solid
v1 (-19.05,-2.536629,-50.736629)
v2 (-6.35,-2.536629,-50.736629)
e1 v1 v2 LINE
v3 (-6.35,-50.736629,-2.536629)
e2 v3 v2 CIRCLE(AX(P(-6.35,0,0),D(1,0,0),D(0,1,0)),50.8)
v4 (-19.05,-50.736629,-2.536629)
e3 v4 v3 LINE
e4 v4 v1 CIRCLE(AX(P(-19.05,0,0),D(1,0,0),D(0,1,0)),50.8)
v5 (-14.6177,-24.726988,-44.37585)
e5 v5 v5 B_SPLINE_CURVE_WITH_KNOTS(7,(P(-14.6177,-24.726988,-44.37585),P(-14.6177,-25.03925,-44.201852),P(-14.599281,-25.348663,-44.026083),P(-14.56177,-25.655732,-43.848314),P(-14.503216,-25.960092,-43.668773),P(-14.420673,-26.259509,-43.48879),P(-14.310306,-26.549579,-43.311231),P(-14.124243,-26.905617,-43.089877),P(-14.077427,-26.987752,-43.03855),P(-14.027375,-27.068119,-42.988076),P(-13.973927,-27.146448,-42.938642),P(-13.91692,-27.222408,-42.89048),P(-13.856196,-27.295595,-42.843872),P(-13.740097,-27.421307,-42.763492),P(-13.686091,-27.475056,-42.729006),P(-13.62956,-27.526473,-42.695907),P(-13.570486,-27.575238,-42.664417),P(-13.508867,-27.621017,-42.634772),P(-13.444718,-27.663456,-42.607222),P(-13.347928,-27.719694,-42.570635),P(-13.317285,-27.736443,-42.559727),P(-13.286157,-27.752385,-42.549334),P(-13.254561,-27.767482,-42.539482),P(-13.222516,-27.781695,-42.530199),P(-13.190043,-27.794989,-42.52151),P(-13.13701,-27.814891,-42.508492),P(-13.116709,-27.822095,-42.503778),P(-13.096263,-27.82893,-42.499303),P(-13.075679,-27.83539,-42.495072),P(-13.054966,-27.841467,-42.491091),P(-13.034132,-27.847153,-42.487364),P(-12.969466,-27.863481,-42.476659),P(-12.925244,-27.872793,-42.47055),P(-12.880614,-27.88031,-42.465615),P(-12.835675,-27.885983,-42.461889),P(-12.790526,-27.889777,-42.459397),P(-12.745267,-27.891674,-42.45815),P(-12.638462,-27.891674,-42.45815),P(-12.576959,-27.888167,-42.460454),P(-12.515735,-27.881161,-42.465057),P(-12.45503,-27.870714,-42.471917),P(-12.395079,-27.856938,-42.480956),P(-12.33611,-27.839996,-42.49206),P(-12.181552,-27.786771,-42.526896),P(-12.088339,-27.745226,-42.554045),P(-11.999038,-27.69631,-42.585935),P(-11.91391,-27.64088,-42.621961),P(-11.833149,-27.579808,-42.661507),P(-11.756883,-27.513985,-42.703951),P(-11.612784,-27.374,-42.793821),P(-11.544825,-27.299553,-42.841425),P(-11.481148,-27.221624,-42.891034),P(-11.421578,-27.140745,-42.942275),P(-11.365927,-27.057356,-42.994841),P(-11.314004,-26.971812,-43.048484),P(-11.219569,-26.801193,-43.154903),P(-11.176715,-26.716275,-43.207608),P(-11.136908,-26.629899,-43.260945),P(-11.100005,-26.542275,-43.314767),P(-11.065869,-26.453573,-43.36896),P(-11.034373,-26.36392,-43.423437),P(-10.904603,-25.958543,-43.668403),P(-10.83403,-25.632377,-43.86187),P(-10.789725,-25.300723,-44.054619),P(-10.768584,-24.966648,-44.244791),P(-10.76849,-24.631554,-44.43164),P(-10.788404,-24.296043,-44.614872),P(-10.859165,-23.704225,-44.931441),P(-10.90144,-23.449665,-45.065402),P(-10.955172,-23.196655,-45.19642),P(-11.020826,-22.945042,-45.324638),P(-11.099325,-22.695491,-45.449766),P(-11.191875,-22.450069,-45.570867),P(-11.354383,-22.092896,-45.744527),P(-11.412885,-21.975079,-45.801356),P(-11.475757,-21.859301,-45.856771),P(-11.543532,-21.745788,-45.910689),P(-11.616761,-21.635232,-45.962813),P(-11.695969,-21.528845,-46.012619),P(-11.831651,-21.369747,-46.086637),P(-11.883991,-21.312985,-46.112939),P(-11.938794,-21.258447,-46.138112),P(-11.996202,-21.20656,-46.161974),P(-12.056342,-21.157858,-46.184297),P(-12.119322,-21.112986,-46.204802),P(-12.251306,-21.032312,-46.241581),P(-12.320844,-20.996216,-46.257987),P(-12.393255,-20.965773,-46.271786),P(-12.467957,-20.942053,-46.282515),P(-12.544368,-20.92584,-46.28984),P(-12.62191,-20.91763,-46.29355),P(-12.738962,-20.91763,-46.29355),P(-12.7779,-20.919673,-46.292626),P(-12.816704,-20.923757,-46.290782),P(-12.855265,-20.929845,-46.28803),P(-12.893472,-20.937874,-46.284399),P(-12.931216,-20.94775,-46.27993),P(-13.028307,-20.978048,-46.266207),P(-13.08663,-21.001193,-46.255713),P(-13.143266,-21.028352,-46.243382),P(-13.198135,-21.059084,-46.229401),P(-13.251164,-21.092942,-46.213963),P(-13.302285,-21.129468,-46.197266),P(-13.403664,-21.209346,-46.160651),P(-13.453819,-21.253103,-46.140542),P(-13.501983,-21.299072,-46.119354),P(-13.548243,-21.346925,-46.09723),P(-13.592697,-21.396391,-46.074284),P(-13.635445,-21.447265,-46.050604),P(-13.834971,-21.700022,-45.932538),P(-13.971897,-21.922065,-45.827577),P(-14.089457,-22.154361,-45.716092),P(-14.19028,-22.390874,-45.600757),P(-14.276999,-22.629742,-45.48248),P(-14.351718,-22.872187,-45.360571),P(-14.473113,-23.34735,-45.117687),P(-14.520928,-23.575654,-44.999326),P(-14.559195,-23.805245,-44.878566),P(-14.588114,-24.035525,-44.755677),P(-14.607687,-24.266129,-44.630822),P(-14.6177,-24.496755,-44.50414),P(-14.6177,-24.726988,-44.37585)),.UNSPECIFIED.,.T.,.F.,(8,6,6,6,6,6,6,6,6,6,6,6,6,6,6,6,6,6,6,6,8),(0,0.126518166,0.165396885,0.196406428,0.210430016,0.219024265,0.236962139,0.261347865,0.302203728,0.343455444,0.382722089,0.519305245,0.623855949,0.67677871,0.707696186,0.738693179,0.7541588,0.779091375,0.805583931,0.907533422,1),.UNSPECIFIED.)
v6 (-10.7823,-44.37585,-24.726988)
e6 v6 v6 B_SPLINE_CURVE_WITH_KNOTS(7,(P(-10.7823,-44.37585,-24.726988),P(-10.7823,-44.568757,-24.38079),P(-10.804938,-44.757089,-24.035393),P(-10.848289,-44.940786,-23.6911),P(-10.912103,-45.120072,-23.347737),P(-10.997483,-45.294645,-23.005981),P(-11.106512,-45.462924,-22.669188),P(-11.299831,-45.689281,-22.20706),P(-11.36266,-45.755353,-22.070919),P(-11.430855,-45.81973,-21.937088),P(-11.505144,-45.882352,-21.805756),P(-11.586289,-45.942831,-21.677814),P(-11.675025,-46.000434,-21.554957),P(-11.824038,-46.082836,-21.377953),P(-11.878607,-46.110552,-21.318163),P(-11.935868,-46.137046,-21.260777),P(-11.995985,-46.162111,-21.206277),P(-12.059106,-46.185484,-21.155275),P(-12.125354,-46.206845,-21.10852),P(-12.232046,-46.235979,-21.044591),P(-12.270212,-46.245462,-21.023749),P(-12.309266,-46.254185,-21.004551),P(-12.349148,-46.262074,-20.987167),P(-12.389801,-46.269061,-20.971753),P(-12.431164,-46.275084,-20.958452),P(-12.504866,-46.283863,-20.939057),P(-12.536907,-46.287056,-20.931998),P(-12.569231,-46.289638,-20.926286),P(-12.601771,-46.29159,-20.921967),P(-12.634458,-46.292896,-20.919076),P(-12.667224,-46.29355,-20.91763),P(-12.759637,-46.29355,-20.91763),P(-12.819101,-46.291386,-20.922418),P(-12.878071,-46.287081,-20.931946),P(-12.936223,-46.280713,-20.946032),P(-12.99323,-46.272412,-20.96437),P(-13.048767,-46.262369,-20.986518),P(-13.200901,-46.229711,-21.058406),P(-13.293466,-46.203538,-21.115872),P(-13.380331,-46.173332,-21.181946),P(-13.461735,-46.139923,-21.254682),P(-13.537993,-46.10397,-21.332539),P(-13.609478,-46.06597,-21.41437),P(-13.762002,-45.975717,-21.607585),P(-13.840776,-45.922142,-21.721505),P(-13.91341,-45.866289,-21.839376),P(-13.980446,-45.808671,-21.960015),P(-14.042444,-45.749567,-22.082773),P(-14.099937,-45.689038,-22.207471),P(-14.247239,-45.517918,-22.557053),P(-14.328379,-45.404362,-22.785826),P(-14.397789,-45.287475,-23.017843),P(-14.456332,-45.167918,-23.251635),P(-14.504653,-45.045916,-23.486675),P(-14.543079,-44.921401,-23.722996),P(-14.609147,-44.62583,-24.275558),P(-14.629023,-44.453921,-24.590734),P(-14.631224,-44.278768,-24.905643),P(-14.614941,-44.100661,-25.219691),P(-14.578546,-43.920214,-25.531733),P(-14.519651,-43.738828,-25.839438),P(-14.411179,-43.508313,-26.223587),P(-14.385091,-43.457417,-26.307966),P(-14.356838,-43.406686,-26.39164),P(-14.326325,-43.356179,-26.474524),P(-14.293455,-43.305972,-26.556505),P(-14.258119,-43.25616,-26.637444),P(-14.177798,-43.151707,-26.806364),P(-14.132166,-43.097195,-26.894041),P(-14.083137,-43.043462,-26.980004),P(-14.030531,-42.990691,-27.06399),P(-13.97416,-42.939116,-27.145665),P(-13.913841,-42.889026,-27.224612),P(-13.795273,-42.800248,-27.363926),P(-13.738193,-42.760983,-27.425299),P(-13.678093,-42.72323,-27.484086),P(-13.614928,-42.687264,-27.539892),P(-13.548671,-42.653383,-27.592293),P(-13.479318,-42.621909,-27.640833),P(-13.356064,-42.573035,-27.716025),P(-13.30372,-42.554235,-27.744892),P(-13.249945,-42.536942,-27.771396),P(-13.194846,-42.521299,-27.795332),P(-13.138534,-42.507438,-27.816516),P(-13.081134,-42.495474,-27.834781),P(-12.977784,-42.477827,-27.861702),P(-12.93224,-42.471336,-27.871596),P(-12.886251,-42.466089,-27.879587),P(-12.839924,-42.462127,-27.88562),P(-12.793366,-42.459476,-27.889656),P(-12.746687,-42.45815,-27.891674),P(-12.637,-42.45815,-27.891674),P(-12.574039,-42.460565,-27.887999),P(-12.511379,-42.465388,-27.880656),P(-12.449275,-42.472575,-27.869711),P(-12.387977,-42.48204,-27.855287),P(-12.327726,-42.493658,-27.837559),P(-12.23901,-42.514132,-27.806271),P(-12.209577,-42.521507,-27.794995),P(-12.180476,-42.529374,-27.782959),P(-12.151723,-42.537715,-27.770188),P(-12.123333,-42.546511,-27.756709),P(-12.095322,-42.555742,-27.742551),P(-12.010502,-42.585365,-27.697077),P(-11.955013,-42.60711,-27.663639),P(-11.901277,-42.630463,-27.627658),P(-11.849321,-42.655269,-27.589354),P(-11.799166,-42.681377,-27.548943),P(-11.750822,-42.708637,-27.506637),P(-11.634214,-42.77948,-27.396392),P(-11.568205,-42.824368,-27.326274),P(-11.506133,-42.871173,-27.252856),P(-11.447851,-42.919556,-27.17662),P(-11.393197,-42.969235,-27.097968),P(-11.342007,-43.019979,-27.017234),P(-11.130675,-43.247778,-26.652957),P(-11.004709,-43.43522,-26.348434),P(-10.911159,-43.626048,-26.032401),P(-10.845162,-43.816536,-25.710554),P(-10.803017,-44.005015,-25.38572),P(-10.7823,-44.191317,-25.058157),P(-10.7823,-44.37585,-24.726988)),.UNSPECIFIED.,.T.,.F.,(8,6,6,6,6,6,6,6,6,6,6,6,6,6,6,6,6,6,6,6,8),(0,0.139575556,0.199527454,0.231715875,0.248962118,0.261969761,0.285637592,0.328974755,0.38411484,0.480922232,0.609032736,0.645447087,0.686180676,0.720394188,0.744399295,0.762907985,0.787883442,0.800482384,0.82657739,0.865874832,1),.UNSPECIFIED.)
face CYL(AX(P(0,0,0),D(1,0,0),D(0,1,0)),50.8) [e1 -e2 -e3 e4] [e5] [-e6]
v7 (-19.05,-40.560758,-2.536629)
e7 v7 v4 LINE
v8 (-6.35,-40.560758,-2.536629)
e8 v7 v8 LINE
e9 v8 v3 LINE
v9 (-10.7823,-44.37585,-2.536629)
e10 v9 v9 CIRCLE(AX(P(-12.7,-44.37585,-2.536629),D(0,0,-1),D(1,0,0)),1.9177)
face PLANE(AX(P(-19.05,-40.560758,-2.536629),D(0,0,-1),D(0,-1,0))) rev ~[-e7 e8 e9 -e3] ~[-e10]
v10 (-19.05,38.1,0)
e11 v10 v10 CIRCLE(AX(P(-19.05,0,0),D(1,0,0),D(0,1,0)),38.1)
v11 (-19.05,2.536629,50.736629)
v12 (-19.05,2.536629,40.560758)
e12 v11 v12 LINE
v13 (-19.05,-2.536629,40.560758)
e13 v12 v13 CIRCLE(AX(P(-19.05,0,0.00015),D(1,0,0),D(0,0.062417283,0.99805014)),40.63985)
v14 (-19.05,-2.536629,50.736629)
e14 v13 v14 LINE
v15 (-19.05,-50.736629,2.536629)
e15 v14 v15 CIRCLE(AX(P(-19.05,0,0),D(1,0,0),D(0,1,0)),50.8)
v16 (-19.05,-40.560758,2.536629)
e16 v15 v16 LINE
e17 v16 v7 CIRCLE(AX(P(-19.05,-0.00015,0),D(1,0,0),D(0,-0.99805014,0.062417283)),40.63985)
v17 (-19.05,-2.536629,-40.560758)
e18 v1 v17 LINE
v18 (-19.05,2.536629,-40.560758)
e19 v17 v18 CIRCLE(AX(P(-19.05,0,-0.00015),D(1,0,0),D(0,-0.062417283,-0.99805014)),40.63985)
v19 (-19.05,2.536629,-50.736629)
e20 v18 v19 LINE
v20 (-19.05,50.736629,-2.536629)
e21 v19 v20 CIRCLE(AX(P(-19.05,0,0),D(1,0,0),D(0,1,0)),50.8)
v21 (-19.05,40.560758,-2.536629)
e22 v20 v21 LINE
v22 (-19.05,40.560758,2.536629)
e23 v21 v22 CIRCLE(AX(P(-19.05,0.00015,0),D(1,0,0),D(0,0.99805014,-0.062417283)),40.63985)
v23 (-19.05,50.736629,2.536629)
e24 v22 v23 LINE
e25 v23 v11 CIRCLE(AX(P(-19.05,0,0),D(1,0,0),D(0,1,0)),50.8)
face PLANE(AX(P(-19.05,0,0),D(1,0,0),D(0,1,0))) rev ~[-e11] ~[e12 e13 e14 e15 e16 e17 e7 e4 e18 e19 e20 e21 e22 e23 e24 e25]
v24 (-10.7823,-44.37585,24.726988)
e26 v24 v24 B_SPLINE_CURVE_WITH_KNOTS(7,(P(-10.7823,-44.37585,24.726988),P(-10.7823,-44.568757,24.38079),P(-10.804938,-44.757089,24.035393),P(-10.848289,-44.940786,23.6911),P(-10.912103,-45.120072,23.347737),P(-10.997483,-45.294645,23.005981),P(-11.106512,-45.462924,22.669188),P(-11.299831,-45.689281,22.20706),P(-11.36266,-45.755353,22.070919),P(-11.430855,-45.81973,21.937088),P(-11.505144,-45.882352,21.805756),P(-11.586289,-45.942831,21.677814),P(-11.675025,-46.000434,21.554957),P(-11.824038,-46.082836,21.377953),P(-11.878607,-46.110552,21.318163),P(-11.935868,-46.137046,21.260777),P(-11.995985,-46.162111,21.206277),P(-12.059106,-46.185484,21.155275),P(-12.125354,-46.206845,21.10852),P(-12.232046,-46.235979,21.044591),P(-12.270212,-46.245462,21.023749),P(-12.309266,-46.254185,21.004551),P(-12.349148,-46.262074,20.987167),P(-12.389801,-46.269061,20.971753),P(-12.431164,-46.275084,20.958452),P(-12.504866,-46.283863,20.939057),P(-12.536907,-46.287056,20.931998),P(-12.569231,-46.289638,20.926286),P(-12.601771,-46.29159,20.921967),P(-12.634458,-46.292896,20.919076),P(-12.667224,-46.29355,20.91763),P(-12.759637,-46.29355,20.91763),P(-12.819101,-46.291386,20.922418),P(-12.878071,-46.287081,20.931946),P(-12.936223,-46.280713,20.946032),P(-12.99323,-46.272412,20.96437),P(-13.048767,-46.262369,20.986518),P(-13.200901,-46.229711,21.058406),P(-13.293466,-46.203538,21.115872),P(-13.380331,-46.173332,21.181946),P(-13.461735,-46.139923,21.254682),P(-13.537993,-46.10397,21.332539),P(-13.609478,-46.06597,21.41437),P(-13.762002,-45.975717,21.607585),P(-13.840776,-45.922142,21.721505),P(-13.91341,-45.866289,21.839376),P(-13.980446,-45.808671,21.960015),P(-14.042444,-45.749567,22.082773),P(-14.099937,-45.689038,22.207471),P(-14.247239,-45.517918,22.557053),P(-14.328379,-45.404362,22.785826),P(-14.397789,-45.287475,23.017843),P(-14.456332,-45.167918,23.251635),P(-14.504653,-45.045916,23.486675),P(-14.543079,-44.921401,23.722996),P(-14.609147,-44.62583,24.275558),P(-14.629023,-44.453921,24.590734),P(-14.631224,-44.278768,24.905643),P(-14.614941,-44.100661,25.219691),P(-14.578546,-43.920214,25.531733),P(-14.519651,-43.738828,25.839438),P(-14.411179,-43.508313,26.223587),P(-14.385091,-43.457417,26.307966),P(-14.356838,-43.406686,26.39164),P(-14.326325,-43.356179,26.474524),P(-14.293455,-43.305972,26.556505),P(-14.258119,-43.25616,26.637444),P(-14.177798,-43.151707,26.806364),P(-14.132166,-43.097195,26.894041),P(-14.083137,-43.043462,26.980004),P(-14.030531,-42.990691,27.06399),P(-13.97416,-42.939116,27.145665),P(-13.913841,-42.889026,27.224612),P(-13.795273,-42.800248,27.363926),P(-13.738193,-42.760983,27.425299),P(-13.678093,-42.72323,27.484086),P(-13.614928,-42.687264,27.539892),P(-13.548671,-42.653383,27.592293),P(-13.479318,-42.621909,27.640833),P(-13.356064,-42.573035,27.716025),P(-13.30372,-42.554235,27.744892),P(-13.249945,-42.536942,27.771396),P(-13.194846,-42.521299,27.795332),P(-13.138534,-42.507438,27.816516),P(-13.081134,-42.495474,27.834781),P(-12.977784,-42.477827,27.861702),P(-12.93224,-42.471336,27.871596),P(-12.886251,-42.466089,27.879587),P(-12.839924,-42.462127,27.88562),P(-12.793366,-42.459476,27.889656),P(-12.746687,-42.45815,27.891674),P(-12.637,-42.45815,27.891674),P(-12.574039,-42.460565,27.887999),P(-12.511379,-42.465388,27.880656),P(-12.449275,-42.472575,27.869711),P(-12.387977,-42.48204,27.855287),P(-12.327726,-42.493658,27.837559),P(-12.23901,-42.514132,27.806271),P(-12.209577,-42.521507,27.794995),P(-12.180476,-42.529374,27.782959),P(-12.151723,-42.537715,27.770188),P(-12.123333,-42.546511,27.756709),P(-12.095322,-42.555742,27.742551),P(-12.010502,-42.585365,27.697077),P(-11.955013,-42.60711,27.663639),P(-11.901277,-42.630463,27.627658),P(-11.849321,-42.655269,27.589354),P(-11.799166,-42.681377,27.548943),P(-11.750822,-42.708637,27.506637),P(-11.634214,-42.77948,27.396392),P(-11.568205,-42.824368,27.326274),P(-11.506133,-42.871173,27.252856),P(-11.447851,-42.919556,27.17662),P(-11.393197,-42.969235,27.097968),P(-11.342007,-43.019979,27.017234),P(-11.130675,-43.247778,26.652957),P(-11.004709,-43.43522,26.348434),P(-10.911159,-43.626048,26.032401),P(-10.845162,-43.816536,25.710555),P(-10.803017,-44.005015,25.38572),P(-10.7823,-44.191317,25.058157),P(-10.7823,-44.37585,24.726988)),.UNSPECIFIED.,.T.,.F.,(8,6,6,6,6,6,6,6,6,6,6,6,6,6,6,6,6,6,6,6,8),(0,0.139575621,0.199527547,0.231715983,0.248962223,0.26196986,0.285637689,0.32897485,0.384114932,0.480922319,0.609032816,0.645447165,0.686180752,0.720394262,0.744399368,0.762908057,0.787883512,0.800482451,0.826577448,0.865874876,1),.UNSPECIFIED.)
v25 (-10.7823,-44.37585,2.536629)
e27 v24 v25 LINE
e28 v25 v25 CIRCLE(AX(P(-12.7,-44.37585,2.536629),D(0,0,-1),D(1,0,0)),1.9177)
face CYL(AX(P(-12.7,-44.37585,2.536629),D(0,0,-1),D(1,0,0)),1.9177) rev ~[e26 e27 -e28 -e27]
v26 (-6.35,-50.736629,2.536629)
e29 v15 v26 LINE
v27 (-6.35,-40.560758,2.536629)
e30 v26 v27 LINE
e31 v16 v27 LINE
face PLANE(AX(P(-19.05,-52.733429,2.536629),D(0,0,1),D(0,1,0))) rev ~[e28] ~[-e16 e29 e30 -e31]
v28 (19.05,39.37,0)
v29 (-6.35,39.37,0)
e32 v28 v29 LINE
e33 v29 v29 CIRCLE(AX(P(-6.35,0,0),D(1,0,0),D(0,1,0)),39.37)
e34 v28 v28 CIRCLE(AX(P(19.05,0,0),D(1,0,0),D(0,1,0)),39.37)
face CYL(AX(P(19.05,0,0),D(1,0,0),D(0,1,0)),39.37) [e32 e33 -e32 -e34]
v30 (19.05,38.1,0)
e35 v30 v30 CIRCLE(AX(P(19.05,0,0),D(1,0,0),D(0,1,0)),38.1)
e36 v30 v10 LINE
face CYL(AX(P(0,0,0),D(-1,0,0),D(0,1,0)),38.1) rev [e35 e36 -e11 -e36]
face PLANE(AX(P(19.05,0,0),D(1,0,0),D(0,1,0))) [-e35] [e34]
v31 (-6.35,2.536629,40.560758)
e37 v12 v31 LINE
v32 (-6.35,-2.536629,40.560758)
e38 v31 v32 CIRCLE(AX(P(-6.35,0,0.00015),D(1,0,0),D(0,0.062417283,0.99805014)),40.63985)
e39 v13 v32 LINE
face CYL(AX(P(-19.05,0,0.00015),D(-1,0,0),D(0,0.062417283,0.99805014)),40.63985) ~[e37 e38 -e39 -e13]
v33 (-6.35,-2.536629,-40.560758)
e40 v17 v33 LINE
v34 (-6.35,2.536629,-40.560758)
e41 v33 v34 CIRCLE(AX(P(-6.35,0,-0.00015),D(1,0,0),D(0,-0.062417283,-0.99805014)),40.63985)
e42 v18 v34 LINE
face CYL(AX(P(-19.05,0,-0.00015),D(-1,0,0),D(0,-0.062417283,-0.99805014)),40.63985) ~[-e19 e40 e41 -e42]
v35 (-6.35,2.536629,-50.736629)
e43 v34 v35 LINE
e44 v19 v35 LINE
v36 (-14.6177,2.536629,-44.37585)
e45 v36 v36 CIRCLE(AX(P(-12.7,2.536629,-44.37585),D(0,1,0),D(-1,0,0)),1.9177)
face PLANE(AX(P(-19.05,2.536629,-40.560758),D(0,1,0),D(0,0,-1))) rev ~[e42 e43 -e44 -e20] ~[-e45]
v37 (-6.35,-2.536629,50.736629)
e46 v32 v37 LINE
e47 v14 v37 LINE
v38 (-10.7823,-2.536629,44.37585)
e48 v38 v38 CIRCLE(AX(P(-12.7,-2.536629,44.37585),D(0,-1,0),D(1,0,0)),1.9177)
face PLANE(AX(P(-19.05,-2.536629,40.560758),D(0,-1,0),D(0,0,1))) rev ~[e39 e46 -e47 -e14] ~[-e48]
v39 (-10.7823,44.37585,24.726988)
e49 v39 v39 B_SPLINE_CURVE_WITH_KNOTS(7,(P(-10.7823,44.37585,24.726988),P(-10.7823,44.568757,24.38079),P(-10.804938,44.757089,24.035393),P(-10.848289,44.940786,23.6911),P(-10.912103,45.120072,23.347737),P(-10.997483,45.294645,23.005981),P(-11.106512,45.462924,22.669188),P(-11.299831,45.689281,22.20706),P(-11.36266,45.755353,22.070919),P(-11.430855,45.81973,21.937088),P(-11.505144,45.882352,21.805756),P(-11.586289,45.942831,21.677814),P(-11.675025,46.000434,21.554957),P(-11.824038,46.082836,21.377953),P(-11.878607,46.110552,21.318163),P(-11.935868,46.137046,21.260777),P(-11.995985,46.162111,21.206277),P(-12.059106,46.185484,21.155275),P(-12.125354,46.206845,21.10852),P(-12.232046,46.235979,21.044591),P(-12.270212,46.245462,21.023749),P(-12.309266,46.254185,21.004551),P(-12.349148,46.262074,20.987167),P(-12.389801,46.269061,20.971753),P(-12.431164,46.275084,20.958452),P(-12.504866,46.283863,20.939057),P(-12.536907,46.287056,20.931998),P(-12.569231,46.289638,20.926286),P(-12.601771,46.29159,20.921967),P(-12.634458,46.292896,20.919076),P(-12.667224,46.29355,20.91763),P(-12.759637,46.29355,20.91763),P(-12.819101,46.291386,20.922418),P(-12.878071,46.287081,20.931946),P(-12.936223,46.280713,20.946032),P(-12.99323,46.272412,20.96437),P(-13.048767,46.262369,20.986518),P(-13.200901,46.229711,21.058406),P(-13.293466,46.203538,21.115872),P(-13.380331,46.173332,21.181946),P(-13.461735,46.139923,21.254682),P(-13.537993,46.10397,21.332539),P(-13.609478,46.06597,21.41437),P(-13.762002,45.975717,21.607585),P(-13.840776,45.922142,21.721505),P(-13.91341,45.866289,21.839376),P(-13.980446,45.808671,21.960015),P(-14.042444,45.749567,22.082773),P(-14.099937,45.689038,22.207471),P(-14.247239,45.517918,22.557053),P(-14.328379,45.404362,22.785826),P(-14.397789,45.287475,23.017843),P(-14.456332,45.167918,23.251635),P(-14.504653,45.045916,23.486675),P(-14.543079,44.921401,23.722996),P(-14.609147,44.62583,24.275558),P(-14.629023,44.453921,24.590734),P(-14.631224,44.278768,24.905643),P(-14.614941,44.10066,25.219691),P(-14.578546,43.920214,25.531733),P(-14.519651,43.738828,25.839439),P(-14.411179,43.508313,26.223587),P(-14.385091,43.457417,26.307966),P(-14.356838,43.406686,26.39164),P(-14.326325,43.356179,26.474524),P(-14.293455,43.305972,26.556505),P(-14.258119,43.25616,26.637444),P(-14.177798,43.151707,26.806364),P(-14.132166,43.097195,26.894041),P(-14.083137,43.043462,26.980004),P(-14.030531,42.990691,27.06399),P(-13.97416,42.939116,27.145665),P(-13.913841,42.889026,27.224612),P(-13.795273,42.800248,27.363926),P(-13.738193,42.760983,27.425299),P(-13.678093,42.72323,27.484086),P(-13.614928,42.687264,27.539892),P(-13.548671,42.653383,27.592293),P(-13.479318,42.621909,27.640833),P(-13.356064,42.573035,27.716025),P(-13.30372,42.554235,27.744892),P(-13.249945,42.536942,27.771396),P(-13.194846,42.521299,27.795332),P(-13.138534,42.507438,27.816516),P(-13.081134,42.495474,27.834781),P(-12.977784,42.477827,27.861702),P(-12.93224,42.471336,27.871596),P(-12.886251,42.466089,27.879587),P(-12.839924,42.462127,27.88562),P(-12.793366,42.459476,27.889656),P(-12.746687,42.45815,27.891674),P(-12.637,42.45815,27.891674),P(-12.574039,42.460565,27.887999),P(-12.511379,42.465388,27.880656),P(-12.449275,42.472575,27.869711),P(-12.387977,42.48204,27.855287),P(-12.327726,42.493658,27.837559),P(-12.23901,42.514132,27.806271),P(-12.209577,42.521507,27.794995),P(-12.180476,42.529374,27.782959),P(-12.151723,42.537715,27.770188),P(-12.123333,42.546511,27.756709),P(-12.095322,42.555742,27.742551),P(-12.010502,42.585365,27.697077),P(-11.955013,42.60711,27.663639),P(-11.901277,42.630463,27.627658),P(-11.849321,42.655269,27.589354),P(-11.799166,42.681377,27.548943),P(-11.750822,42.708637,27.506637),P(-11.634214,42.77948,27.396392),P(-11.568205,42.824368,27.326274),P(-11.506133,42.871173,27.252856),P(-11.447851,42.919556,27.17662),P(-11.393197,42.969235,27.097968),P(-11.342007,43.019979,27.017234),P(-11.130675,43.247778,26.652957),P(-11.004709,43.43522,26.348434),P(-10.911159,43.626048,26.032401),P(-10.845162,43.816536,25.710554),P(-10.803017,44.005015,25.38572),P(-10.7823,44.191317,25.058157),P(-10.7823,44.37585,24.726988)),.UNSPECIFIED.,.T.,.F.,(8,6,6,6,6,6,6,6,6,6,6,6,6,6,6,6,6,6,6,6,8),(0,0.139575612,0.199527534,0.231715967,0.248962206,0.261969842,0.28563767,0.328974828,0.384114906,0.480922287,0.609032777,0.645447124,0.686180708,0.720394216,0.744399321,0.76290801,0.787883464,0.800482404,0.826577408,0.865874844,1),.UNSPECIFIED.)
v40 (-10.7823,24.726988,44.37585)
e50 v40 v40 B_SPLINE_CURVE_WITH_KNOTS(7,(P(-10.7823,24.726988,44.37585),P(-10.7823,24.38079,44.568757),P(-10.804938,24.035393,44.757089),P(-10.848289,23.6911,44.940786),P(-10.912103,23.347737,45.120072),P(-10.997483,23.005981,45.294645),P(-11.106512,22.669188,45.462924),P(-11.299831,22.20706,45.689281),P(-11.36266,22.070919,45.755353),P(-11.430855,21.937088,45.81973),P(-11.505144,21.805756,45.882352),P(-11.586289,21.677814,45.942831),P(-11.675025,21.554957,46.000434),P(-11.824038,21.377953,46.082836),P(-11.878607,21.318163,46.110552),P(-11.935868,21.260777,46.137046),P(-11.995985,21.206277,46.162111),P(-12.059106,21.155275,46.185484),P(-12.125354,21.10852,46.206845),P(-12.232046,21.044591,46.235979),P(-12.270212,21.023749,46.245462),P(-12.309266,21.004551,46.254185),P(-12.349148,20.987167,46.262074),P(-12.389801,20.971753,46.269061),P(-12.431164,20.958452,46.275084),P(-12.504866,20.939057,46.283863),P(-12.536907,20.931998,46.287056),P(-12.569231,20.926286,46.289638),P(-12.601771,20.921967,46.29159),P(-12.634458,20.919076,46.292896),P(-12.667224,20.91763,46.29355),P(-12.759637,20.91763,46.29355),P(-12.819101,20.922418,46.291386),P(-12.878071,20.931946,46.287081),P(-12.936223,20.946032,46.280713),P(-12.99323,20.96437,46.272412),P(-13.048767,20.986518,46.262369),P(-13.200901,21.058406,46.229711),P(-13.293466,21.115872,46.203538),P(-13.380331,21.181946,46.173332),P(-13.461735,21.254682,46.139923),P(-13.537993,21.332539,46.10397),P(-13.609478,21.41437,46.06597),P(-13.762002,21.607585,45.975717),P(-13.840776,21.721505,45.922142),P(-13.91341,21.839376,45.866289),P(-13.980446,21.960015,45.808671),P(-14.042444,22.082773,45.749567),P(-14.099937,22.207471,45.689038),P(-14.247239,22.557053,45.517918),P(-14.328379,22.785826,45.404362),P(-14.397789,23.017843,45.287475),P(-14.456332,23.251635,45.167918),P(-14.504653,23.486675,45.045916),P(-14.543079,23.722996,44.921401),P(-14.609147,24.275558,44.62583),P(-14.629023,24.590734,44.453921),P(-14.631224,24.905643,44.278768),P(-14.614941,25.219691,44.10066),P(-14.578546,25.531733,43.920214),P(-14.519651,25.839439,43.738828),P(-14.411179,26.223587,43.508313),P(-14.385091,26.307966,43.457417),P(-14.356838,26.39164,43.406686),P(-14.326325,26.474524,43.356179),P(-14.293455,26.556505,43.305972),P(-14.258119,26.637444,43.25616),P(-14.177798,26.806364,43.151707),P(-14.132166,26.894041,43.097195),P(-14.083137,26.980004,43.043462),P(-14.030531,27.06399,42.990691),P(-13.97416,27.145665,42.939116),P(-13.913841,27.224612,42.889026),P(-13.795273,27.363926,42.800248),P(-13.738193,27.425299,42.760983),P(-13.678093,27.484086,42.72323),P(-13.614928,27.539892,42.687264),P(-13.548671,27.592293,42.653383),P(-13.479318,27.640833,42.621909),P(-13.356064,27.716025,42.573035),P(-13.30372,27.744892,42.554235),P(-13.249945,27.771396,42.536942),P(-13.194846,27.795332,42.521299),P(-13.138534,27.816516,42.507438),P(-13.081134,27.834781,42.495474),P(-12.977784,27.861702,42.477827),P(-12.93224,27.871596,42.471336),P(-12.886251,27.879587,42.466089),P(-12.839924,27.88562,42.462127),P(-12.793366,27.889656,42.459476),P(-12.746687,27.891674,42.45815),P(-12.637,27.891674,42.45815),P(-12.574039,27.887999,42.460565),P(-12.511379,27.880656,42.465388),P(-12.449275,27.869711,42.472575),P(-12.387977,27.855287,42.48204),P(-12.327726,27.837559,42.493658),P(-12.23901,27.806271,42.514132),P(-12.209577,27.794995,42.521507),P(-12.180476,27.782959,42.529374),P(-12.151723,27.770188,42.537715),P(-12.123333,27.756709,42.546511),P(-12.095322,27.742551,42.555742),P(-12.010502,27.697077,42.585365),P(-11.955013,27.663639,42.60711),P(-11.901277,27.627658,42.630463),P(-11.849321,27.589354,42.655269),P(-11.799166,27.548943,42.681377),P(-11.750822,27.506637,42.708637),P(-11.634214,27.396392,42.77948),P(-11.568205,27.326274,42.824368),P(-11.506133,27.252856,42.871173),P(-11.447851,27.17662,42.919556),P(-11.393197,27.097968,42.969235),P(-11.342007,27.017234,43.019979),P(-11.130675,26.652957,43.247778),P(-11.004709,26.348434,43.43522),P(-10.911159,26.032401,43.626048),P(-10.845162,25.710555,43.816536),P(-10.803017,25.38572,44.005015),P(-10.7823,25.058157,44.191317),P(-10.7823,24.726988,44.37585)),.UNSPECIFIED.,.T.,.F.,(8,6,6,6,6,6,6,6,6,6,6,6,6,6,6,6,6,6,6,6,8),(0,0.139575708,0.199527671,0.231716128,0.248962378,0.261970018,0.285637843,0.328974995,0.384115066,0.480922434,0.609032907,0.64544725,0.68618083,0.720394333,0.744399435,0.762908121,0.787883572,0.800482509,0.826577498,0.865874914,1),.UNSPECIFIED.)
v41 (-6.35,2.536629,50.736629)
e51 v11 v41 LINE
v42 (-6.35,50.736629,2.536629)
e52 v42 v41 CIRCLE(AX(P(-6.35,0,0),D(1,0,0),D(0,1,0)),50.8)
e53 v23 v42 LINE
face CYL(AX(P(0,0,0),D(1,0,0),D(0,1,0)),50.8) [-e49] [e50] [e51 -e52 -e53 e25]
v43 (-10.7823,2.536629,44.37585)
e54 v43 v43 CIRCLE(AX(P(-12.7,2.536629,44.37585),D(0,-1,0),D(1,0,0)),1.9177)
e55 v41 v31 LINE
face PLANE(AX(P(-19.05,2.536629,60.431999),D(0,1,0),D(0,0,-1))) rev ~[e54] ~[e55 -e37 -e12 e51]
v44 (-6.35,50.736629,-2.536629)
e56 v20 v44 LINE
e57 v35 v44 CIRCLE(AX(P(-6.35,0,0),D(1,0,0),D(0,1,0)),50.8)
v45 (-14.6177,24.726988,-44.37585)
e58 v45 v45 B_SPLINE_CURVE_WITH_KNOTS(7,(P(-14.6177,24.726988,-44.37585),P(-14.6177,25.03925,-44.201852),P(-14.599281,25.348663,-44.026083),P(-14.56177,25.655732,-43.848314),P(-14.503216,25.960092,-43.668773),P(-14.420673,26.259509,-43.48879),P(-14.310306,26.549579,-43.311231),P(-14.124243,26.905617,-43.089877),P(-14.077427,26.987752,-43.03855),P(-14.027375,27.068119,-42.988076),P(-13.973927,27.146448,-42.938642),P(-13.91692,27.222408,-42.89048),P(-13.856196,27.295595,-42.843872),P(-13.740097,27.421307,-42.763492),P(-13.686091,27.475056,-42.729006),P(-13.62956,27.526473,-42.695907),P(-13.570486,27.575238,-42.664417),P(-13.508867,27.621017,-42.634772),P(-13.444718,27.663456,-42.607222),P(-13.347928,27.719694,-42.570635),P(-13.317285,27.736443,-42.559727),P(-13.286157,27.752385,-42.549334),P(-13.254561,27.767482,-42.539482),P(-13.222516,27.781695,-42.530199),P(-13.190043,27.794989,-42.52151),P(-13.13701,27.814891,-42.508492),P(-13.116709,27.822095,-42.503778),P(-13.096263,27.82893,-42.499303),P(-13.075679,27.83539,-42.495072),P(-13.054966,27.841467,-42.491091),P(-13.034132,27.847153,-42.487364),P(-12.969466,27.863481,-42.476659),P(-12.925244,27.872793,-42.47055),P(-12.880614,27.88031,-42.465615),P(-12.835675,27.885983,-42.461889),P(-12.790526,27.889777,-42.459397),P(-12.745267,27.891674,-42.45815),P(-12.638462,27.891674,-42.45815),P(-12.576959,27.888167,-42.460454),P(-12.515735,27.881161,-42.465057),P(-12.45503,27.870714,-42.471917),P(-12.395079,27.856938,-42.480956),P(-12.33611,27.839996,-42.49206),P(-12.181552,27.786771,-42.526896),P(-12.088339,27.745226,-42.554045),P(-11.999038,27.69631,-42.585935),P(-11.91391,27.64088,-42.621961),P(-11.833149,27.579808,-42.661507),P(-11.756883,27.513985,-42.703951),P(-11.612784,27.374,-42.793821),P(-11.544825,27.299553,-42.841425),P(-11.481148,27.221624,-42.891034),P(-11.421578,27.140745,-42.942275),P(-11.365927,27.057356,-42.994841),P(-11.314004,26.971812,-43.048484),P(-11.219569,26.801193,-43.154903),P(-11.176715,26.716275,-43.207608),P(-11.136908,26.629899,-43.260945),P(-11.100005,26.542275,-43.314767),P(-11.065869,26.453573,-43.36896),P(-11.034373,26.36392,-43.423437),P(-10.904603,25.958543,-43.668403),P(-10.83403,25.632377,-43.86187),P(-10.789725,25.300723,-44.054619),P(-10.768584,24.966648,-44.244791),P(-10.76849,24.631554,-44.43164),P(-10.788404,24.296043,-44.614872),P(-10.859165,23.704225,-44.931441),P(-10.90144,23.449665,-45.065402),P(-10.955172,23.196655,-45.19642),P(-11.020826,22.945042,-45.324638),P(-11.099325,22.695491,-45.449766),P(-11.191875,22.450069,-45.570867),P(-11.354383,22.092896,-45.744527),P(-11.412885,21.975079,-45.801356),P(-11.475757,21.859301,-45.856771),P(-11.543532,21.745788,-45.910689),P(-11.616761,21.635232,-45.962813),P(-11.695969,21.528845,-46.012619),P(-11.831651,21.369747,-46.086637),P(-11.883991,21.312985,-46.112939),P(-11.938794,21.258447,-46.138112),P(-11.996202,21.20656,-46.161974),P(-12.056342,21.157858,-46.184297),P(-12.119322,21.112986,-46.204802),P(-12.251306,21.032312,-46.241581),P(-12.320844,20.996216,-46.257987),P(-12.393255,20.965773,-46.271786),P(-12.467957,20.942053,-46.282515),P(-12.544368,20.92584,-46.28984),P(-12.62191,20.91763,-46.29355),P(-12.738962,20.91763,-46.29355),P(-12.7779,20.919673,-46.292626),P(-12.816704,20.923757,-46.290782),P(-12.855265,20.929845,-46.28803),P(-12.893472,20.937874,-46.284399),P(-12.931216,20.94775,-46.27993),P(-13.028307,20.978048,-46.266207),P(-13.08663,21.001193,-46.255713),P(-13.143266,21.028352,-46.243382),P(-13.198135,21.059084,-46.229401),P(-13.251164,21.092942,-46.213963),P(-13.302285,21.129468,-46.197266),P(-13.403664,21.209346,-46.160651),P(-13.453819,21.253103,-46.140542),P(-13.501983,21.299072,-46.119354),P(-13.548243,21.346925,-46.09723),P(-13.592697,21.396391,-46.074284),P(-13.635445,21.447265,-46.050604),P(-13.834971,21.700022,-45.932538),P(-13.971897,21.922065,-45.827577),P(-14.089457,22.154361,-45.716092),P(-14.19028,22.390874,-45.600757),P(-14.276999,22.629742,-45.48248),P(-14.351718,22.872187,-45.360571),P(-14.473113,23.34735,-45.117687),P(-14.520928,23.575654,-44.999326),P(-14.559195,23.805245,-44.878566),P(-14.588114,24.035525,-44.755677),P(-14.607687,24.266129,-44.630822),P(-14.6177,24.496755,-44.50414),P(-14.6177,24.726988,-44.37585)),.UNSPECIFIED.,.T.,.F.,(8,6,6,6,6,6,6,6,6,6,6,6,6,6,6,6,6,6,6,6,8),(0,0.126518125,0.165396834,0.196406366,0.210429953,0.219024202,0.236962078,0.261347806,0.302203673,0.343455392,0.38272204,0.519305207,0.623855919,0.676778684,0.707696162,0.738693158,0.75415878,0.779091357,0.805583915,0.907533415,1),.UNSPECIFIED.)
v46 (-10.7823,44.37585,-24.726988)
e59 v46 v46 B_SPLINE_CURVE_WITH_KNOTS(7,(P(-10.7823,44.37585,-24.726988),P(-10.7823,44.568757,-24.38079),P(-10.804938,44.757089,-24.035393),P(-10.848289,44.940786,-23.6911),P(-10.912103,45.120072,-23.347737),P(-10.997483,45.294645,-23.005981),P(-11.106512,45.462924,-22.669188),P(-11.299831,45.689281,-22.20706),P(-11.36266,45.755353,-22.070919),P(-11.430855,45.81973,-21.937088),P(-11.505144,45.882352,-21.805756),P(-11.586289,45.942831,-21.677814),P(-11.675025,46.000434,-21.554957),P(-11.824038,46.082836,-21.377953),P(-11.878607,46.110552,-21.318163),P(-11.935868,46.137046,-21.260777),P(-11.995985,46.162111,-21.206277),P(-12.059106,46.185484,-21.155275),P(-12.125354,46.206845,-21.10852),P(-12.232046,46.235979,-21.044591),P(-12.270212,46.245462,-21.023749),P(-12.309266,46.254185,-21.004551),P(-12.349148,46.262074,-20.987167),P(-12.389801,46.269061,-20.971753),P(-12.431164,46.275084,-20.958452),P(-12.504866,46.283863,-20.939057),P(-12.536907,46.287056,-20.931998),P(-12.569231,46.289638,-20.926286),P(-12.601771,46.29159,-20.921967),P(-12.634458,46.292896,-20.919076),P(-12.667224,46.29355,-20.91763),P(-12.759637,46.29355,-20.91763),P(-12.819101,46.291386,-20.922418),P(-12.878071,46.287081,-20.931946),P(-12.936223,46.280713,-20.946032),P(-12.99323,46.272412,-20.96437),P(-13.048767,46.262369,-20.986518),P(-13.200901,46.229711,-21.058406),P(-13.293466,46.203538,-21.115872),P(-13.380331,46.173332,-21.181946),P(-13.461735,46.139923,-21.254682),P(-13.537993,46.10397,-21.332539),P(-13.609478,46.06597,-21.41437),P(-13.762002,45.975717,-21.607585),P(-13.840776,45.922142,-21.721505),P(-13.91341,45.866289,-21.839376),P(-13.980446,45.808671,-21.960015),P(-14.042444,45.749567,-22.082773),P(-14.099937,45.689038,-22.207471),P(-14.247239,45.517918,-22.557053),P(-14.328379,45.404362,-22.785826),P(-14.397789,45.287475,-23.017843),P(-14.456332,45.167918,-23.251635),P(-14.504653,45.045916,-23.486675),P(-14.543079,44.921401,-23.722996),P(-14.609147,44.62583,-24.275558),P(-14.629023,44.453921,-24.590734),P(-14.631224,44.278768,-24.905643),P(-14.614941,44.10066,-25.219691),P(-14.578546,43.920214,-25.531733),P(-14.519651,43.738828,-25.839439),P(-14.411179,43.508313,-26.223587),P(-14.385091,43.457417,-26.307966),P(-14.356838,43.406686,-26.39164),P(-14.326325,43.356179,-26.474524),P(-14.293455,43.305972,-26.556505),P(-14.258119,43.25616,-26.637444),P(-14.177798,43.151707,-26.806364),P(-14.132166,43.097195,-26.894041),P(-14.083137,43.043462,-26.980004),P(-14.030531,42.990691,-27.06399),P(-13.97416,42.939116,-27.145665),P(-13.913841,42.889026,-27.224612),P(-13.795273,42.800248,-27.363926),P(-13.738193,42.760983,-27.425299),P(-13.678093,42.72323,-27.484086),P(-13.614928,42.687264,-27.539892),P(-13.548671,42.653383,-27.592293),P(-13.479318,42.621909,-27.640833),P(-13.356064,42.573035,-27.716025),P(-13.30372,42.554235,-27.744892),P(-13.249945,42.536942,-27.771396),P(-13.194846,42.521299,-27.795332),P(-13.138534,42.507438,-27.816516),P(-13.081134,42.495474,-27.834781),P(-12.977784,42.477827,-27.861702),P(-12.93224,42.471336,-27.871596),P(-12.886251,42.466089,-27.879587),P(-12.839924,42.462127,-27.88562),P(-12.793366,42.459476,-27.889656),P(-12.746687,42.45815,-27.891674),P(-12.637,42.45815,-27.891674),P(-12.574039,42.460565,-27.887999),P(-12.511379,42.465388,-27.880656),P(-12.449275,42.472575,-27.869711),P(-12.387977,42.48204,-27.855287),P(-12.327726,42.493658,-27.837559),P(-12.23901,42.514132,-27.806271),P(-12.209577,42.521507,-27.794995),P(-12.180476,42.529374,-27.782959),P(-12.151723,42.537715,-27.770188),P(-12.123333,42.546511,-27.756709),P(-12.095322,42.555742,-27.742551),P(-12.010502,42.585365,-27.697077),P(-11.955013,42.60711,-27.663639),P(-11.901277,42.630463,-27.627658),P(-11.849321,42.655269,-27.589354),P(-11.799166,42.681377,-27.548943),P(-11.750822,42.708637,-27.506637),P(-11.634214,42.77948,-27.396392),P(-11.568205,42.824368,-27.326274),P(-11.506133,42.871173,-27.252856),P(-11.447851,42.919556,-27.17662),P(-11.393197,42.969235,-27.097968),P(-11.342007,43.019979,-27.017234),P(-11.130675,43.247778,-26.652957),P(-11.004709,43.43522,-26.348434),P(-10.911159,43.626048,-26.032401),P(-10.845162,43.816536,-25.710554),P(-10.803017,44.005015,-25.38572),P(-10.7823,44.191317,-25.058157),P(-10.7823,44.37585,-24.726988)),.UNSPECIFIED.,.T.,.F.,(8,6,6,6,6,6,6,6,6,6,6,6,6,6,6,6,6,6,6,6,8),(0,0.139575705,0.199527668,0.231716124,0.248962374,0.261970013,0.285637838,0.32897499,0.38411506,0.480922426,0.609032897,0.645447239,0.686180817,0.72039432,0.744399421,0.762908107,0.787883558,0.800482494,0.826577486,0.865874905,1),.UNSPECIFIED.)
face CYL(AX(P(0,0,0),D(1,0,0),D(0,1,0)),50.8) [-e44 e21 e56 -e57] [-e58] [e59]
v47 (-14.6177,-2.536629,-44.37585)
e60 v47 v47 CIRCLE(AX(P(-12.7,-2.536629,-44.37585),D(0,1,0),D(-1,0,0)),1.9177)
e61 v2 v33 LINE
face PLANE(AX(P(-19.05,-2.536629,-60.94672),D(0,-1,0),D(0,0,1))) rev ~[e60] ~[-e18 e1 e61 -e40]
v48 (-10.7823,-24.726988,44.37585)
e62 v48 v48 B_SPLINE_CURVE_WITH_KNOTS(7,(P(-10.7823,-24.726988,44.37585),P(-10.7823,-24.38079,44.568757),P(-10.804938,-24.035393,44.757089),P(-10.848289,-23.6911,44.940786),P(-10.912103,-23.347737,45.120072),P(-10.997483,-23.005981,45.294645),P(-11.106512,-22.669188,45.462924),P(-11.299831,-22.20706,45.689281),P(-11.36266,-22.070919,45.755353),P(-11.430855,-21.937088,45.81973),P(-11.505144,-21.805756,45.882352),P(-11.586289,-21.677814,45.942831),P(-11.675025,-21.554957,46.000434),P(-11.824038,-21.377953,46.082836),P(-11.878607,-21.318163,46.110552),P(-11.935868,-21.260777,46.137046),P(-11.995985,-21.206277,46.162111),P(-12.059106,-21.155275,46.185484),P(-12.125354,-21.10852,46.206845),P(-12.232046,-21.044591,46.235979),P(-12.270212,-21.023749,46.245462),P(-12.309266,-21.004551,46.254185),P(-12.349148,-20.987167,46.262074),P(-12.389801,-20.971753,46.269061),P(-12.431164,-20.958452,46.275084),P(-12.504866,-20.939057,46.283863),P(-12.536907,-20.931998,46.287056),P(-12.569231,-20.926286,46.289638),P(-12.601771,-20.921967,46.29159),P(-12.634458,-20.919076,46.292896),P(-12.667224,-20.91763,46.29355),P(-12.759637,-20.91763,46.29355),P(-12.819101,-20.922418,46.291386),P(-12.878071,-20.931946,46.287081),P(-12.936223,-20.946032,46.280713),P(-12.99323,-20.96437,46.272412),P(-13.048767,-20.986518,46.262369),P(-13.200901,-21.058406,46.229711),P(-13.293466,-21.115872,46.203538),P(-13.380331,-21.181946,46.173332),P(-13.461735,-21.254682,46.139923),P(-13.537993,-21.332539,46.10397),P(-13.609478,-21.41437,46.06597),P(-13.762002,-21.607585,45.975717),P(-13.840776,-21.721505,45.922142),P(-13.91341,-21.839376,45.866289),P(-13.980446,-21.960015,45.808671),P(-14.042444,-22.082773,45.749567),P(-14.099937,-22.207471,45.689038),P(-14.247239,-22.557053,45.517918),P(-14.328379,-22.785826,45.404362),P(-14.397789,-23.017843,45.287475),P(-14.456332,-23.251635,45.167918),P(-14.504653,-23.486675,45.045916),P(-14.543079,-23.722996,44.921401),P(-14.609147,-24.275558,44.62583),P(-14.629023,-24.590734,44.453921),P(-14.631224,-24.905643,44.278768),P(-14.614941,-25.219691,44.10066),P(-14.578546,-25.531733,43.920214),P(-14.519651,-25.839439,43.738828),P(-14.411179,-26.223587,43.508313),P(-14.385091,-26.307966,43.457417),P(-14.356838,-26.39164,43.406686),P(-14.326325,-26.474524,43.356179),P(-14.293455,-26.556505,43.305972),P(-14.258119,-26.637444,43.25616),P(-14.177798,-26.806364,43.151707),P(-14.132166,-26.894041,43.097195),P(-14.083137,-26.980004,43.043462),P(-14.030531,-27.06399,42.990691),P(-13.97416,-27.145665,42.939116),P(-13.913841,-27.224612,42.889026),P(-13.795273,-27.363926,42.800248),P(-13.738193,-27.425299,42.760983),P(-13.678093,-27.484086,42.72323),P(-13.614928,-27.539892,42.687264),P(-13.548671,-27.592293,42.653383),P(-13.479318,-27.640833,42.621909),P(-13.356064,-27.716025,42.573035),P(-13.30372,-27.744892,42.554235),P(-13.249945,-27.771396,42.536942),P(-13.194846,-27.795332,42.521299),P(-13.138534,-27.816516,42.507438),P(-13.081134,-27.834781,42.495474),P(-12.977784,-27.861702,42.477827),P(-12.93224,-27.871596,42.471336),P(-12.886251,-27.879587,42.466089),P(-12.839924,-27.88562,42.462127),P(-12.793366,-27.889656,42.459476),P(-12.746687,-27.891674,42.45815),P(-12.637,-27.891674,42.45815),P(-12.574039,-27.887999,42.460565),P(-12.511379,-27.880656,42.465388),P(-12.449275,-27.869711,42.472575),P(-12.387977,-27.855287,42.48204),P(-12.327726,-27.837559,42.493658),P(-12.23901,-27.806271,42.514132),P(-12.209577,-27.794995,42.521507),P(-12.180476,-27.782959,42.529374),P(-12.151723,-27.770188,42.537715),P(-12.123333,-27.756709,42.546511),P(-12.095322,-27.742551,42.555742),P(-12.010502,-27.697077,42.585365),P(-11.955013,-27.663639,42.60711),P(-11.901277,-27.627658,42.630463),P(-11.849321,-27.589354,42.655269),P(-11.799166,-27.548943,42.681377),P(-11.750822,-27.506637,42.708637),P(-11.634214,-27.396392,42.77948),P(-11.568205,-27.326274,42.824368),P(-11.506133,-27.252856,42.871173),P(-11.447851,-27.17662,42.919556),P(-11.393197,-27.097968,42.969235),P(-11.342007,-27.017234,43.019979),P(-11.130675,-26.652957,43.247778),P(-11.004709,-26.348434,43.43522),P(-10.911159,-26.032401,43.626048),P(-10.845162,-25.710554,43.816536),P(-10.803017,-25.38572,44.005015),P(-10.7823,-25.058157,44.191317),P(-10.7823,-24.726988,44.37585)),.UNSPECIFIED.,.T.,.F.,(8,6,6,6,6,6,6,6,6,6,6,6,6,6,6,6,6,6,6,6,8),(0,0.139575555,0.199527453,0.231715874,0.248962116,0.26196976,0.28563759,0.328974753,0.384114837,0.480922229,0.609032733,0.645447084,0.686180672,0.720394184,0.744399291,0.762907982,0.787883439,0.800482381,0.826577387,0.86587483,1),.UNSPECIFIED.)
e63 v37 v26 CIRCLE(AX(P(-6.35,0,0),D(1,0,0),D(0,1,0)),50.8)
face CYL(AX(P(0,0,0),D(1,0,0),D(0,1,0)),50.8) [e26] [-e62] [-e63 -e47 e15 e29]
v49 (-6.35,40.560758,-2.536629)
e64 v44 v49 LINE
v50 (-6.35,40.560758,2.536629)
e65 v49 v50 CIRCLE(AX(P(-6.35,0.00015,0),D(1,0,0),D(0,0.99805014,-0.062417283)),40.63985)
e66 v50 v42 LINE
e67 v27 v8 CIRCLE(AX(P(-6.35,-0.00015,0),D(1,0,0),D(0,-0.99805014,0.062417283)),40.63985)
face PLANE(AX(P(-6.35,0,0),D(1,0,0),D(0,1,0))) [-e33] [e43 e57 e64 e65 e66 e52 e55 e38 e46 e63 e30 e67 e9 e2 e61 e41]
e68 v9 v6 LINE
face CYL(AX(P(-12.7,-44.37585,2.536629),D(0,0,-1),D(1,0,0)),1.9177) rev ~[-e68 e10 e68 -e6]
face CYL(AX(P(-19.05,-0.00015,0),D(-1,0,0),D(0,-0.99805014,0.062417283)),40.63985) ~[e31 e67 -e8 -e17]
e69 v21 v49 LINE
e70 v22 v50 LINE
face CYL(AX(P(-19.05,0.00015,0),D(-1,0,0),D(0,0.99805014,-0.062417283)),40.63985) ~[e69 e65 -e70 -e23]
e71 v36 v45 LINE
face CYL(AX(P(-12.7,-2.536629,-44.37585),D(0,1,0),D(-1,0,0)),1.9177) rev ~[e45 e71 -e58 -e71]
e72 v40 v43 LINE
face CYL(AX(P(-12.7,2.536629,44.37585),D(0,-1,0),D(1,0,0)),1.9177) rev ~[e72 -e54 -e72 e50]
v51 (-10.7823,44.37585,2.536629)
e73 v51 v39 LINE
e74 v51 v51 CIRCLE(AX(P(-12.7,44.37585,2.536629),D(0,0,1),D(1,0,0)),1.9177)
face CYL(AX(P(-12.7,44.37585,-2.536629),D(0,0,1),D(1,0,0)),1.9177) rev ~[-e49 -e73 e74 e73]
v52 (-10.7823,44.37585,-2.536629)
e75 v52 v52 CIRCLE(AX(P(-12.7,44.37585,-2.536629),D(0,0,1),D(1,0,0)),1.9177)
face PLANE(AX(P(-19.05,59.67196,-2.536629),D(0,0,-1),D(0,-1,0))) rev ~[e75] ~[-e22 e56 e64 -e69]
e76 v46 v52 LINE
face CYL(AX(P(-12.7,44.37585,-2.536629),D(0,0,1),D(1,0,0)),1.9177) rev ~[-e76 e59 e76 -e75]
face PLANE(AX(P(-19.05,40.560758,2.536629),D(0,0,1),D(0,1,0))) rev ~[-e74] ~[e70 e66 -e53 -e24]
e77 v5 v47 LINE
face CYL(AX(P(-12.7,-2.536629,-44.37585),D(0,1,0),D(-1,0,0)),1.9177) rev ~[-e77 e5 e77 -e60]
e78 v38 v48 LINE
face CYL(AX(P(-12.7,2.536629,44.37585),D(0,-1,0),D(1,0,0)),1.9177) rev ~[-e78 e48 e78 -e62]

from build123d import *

# Parameters (mm, degrees)
F0_R      = 50.8
F0_R_2    = 38.1
F1_DEPTH  = 19.05
F2_R      = 50.8
F2_R_2    = 39.37
F3_DEPTH  = 25.4
F5_DEPTH  = 12.7
F6_DEPTH  = 12.7
F7_R      = 1.9177
F8_DEPTH  = 31.75
F9_R      = 1.9177
F10_DEPTH = 31.75
F11_R     = 1.9177
F12_DEPTH = 31.75
F13_R     = 1.9177
F14_DEPTH = 31.75


with BuildPart() as f1:
    # F0 (on Right) → F1 (new body, symmetric)
    with BuildSketch(Plane.YZ):
        Circle(F0_R)
        Circle(F0_R_2, mode=Mode.SUBTRACT)
    extrude(amount=F1_DEPTH, both=True)

    # F2 (on face) → F3 (cut)
    with BuildSketch(Plane.YZ.offset(19.05)):
        Circle(F2_R)
        Circle(F2_R_2, mode=Mode.SUBTRACT)
    extrude(amount=-F3_DEPTH, mode=Mode.SUBTRACT)

    # F4 (on face) → F5 (cut)
    with BuildSketch(Plane(origin=(-19.05, 0, 0), x_dir=(0, -1, 0), z_dir=(-1, 0, 0))):
        with BuildLine():
            Line((40.560758, -2.536629), (52.733429, -2.536629))
            Line((52.733429, -2.536629), (52.733429, 2.536629))
            Line((52.733429, 2.536629), (40.560758, 2.536629))
            ThreePointArc((40.560758, 2.536629), (40.64, 0), (40.560758, -2.536629))
        make_face()
        with BuildLine():
            Line((-59.67196, -2.536629), (-40.560758, -2.536629))
            ThreePointArc((-40.560758, -2.536629), (-40.64, 0), (-40.560758, 2.536629))
            Line((-40.560758, 2.536629), (-59.67196, 2.536629))
            Line((-59.67196, 2.536629), (-59.67196, -2.536629))
        make_face()
        with BuildLine():
            Line((-2.536629, -60.94672), (2.536629, -60.94672))
            Line((2.536629, -60.94672), (2.536629, -40.560758))
            ThreePointArc((2.536629, -40.560758), (0, -40.64), (-2.536629, -40.560758))
            Line((-2.536629, -40.560758), (-2.536629, -60.94672))
        make_face()
        with BuildLine():
            Line((2.536629, 40.560758), (2.536629, 60.431999))
            Line((2.536629, 60.431999), (-2.536629, 60.431999))
            Line((-2.536629, 60.431999), (-2.536629, 40.560758))
            ThreePointArc((-2.536629, 40.560758), (0, 40.64), (2.536629, 40.560758))
        make_face()
    extrude(amount=-F5_DEPTH, mode=Mode.SUBTRACT)

    # F4 (on face) → F6 (cut)
    with BuildSketch(Plane(origin=(-19.05, 0, 0), x_dir=(0, -1, 0), z_dir=(-1, 0, 0))):
        with BuildLine():
            Line((40.560758, -2.536629), (52.733429, -2.536629))
            Line((52.733429, -2.536629), (52.733429, 2.536629))
            Line((52.733429, 2.536629), (40.560758, 2.536629))
            ThreePointArc((40.560758, 2.536629), (40.64, 0), (40.560758, -2.536629))
        make_face()
        with BuildLine():
            Line((-59.67196, -2.536629), (-40.560758, -2.536629))
            ThreePointArc((-40.560758, -2.536629), (-40.64, 0), (-40.560758, 2.536629))
            Line((-40.560758, 2.536629), (-59.67196, 2.536629))
            Line((-59.67196, 2.536629), (-59.67196, -2.536629))
        make_face()
        with BuildLine():
            Line((-2.536629, -60.94672), (2.536629, -60.94672))
            Line((2.536629, -60.94672), (2.536629, -40.560758))
            ThreePointArc((2.536629, -40.560758), (0, -40.64), (-2.536629, -40.560758))
            Line((-2.536629, -40.560758), (-2.536629, -60.94672))
        make_face()
        with BuildLine():
            Line((2.536629, 40.560758), (2.536629, 60.431999))
            Line((2.536629, 60.431999), (-2.536629, 60.431999))
            Line((-2.536629, 60.431999), (-2.536629, 40.560758))
            ThreePointArc((-2.536629, 40.560758), (0, 40.64), (2.536629, 40.560758))
        make_face()
    extrude(amount=-F6_DEPTH, mode=Mode.SUBTRACT)

    # F7 (on face) → F8 (cut, symmetric)
    with BuildSketch(Plane(origin=(0, 0, 2.536629), x_dir=(1, 0, 0), z_dir=(0, 0, -1))):
        with Locations((-12.7, 44.37585)):
            Circle(F7_R)
    extrude(amount=F8_DEPTH, both=True, mode=Mode.SUBTRACT)

    # F9 (on face) → F10 (cut, symmetric)
    with BuildSketch(Plane.XY.offset(-2.536629)):
        with Locations((-12.7, 44.37585)):
            Circle(F9_R)
    extrude(amount=F10_DEPTH, both=True, mode=Mode.SUBTRACT)

    # F11 (on face) → F12 (cut, symmetric)
    with BuildSketch(Plane.XZ.offset(-2.536629)):
        with Locations((-12.7, 44.37585)):
            Circle(F11_R)
    extrude(amount=F12_DEPTH, both=True, mode=Mode.SUBTRACT)

    # F13 (on face) → F14 (cut, symmetric)
    with BuildSketch(Plane(origin=(0, -2.536629, 0), x_dir=(-1, 0, 0), z_dir=(0, 1, 0))):
        with Locations((12.7, -44.37585)):
            Circle(F13_R)
    extrude(amount=F14_DEPTH, both=True, mode=Mode.SUBTRACT)


solid = f1.part
